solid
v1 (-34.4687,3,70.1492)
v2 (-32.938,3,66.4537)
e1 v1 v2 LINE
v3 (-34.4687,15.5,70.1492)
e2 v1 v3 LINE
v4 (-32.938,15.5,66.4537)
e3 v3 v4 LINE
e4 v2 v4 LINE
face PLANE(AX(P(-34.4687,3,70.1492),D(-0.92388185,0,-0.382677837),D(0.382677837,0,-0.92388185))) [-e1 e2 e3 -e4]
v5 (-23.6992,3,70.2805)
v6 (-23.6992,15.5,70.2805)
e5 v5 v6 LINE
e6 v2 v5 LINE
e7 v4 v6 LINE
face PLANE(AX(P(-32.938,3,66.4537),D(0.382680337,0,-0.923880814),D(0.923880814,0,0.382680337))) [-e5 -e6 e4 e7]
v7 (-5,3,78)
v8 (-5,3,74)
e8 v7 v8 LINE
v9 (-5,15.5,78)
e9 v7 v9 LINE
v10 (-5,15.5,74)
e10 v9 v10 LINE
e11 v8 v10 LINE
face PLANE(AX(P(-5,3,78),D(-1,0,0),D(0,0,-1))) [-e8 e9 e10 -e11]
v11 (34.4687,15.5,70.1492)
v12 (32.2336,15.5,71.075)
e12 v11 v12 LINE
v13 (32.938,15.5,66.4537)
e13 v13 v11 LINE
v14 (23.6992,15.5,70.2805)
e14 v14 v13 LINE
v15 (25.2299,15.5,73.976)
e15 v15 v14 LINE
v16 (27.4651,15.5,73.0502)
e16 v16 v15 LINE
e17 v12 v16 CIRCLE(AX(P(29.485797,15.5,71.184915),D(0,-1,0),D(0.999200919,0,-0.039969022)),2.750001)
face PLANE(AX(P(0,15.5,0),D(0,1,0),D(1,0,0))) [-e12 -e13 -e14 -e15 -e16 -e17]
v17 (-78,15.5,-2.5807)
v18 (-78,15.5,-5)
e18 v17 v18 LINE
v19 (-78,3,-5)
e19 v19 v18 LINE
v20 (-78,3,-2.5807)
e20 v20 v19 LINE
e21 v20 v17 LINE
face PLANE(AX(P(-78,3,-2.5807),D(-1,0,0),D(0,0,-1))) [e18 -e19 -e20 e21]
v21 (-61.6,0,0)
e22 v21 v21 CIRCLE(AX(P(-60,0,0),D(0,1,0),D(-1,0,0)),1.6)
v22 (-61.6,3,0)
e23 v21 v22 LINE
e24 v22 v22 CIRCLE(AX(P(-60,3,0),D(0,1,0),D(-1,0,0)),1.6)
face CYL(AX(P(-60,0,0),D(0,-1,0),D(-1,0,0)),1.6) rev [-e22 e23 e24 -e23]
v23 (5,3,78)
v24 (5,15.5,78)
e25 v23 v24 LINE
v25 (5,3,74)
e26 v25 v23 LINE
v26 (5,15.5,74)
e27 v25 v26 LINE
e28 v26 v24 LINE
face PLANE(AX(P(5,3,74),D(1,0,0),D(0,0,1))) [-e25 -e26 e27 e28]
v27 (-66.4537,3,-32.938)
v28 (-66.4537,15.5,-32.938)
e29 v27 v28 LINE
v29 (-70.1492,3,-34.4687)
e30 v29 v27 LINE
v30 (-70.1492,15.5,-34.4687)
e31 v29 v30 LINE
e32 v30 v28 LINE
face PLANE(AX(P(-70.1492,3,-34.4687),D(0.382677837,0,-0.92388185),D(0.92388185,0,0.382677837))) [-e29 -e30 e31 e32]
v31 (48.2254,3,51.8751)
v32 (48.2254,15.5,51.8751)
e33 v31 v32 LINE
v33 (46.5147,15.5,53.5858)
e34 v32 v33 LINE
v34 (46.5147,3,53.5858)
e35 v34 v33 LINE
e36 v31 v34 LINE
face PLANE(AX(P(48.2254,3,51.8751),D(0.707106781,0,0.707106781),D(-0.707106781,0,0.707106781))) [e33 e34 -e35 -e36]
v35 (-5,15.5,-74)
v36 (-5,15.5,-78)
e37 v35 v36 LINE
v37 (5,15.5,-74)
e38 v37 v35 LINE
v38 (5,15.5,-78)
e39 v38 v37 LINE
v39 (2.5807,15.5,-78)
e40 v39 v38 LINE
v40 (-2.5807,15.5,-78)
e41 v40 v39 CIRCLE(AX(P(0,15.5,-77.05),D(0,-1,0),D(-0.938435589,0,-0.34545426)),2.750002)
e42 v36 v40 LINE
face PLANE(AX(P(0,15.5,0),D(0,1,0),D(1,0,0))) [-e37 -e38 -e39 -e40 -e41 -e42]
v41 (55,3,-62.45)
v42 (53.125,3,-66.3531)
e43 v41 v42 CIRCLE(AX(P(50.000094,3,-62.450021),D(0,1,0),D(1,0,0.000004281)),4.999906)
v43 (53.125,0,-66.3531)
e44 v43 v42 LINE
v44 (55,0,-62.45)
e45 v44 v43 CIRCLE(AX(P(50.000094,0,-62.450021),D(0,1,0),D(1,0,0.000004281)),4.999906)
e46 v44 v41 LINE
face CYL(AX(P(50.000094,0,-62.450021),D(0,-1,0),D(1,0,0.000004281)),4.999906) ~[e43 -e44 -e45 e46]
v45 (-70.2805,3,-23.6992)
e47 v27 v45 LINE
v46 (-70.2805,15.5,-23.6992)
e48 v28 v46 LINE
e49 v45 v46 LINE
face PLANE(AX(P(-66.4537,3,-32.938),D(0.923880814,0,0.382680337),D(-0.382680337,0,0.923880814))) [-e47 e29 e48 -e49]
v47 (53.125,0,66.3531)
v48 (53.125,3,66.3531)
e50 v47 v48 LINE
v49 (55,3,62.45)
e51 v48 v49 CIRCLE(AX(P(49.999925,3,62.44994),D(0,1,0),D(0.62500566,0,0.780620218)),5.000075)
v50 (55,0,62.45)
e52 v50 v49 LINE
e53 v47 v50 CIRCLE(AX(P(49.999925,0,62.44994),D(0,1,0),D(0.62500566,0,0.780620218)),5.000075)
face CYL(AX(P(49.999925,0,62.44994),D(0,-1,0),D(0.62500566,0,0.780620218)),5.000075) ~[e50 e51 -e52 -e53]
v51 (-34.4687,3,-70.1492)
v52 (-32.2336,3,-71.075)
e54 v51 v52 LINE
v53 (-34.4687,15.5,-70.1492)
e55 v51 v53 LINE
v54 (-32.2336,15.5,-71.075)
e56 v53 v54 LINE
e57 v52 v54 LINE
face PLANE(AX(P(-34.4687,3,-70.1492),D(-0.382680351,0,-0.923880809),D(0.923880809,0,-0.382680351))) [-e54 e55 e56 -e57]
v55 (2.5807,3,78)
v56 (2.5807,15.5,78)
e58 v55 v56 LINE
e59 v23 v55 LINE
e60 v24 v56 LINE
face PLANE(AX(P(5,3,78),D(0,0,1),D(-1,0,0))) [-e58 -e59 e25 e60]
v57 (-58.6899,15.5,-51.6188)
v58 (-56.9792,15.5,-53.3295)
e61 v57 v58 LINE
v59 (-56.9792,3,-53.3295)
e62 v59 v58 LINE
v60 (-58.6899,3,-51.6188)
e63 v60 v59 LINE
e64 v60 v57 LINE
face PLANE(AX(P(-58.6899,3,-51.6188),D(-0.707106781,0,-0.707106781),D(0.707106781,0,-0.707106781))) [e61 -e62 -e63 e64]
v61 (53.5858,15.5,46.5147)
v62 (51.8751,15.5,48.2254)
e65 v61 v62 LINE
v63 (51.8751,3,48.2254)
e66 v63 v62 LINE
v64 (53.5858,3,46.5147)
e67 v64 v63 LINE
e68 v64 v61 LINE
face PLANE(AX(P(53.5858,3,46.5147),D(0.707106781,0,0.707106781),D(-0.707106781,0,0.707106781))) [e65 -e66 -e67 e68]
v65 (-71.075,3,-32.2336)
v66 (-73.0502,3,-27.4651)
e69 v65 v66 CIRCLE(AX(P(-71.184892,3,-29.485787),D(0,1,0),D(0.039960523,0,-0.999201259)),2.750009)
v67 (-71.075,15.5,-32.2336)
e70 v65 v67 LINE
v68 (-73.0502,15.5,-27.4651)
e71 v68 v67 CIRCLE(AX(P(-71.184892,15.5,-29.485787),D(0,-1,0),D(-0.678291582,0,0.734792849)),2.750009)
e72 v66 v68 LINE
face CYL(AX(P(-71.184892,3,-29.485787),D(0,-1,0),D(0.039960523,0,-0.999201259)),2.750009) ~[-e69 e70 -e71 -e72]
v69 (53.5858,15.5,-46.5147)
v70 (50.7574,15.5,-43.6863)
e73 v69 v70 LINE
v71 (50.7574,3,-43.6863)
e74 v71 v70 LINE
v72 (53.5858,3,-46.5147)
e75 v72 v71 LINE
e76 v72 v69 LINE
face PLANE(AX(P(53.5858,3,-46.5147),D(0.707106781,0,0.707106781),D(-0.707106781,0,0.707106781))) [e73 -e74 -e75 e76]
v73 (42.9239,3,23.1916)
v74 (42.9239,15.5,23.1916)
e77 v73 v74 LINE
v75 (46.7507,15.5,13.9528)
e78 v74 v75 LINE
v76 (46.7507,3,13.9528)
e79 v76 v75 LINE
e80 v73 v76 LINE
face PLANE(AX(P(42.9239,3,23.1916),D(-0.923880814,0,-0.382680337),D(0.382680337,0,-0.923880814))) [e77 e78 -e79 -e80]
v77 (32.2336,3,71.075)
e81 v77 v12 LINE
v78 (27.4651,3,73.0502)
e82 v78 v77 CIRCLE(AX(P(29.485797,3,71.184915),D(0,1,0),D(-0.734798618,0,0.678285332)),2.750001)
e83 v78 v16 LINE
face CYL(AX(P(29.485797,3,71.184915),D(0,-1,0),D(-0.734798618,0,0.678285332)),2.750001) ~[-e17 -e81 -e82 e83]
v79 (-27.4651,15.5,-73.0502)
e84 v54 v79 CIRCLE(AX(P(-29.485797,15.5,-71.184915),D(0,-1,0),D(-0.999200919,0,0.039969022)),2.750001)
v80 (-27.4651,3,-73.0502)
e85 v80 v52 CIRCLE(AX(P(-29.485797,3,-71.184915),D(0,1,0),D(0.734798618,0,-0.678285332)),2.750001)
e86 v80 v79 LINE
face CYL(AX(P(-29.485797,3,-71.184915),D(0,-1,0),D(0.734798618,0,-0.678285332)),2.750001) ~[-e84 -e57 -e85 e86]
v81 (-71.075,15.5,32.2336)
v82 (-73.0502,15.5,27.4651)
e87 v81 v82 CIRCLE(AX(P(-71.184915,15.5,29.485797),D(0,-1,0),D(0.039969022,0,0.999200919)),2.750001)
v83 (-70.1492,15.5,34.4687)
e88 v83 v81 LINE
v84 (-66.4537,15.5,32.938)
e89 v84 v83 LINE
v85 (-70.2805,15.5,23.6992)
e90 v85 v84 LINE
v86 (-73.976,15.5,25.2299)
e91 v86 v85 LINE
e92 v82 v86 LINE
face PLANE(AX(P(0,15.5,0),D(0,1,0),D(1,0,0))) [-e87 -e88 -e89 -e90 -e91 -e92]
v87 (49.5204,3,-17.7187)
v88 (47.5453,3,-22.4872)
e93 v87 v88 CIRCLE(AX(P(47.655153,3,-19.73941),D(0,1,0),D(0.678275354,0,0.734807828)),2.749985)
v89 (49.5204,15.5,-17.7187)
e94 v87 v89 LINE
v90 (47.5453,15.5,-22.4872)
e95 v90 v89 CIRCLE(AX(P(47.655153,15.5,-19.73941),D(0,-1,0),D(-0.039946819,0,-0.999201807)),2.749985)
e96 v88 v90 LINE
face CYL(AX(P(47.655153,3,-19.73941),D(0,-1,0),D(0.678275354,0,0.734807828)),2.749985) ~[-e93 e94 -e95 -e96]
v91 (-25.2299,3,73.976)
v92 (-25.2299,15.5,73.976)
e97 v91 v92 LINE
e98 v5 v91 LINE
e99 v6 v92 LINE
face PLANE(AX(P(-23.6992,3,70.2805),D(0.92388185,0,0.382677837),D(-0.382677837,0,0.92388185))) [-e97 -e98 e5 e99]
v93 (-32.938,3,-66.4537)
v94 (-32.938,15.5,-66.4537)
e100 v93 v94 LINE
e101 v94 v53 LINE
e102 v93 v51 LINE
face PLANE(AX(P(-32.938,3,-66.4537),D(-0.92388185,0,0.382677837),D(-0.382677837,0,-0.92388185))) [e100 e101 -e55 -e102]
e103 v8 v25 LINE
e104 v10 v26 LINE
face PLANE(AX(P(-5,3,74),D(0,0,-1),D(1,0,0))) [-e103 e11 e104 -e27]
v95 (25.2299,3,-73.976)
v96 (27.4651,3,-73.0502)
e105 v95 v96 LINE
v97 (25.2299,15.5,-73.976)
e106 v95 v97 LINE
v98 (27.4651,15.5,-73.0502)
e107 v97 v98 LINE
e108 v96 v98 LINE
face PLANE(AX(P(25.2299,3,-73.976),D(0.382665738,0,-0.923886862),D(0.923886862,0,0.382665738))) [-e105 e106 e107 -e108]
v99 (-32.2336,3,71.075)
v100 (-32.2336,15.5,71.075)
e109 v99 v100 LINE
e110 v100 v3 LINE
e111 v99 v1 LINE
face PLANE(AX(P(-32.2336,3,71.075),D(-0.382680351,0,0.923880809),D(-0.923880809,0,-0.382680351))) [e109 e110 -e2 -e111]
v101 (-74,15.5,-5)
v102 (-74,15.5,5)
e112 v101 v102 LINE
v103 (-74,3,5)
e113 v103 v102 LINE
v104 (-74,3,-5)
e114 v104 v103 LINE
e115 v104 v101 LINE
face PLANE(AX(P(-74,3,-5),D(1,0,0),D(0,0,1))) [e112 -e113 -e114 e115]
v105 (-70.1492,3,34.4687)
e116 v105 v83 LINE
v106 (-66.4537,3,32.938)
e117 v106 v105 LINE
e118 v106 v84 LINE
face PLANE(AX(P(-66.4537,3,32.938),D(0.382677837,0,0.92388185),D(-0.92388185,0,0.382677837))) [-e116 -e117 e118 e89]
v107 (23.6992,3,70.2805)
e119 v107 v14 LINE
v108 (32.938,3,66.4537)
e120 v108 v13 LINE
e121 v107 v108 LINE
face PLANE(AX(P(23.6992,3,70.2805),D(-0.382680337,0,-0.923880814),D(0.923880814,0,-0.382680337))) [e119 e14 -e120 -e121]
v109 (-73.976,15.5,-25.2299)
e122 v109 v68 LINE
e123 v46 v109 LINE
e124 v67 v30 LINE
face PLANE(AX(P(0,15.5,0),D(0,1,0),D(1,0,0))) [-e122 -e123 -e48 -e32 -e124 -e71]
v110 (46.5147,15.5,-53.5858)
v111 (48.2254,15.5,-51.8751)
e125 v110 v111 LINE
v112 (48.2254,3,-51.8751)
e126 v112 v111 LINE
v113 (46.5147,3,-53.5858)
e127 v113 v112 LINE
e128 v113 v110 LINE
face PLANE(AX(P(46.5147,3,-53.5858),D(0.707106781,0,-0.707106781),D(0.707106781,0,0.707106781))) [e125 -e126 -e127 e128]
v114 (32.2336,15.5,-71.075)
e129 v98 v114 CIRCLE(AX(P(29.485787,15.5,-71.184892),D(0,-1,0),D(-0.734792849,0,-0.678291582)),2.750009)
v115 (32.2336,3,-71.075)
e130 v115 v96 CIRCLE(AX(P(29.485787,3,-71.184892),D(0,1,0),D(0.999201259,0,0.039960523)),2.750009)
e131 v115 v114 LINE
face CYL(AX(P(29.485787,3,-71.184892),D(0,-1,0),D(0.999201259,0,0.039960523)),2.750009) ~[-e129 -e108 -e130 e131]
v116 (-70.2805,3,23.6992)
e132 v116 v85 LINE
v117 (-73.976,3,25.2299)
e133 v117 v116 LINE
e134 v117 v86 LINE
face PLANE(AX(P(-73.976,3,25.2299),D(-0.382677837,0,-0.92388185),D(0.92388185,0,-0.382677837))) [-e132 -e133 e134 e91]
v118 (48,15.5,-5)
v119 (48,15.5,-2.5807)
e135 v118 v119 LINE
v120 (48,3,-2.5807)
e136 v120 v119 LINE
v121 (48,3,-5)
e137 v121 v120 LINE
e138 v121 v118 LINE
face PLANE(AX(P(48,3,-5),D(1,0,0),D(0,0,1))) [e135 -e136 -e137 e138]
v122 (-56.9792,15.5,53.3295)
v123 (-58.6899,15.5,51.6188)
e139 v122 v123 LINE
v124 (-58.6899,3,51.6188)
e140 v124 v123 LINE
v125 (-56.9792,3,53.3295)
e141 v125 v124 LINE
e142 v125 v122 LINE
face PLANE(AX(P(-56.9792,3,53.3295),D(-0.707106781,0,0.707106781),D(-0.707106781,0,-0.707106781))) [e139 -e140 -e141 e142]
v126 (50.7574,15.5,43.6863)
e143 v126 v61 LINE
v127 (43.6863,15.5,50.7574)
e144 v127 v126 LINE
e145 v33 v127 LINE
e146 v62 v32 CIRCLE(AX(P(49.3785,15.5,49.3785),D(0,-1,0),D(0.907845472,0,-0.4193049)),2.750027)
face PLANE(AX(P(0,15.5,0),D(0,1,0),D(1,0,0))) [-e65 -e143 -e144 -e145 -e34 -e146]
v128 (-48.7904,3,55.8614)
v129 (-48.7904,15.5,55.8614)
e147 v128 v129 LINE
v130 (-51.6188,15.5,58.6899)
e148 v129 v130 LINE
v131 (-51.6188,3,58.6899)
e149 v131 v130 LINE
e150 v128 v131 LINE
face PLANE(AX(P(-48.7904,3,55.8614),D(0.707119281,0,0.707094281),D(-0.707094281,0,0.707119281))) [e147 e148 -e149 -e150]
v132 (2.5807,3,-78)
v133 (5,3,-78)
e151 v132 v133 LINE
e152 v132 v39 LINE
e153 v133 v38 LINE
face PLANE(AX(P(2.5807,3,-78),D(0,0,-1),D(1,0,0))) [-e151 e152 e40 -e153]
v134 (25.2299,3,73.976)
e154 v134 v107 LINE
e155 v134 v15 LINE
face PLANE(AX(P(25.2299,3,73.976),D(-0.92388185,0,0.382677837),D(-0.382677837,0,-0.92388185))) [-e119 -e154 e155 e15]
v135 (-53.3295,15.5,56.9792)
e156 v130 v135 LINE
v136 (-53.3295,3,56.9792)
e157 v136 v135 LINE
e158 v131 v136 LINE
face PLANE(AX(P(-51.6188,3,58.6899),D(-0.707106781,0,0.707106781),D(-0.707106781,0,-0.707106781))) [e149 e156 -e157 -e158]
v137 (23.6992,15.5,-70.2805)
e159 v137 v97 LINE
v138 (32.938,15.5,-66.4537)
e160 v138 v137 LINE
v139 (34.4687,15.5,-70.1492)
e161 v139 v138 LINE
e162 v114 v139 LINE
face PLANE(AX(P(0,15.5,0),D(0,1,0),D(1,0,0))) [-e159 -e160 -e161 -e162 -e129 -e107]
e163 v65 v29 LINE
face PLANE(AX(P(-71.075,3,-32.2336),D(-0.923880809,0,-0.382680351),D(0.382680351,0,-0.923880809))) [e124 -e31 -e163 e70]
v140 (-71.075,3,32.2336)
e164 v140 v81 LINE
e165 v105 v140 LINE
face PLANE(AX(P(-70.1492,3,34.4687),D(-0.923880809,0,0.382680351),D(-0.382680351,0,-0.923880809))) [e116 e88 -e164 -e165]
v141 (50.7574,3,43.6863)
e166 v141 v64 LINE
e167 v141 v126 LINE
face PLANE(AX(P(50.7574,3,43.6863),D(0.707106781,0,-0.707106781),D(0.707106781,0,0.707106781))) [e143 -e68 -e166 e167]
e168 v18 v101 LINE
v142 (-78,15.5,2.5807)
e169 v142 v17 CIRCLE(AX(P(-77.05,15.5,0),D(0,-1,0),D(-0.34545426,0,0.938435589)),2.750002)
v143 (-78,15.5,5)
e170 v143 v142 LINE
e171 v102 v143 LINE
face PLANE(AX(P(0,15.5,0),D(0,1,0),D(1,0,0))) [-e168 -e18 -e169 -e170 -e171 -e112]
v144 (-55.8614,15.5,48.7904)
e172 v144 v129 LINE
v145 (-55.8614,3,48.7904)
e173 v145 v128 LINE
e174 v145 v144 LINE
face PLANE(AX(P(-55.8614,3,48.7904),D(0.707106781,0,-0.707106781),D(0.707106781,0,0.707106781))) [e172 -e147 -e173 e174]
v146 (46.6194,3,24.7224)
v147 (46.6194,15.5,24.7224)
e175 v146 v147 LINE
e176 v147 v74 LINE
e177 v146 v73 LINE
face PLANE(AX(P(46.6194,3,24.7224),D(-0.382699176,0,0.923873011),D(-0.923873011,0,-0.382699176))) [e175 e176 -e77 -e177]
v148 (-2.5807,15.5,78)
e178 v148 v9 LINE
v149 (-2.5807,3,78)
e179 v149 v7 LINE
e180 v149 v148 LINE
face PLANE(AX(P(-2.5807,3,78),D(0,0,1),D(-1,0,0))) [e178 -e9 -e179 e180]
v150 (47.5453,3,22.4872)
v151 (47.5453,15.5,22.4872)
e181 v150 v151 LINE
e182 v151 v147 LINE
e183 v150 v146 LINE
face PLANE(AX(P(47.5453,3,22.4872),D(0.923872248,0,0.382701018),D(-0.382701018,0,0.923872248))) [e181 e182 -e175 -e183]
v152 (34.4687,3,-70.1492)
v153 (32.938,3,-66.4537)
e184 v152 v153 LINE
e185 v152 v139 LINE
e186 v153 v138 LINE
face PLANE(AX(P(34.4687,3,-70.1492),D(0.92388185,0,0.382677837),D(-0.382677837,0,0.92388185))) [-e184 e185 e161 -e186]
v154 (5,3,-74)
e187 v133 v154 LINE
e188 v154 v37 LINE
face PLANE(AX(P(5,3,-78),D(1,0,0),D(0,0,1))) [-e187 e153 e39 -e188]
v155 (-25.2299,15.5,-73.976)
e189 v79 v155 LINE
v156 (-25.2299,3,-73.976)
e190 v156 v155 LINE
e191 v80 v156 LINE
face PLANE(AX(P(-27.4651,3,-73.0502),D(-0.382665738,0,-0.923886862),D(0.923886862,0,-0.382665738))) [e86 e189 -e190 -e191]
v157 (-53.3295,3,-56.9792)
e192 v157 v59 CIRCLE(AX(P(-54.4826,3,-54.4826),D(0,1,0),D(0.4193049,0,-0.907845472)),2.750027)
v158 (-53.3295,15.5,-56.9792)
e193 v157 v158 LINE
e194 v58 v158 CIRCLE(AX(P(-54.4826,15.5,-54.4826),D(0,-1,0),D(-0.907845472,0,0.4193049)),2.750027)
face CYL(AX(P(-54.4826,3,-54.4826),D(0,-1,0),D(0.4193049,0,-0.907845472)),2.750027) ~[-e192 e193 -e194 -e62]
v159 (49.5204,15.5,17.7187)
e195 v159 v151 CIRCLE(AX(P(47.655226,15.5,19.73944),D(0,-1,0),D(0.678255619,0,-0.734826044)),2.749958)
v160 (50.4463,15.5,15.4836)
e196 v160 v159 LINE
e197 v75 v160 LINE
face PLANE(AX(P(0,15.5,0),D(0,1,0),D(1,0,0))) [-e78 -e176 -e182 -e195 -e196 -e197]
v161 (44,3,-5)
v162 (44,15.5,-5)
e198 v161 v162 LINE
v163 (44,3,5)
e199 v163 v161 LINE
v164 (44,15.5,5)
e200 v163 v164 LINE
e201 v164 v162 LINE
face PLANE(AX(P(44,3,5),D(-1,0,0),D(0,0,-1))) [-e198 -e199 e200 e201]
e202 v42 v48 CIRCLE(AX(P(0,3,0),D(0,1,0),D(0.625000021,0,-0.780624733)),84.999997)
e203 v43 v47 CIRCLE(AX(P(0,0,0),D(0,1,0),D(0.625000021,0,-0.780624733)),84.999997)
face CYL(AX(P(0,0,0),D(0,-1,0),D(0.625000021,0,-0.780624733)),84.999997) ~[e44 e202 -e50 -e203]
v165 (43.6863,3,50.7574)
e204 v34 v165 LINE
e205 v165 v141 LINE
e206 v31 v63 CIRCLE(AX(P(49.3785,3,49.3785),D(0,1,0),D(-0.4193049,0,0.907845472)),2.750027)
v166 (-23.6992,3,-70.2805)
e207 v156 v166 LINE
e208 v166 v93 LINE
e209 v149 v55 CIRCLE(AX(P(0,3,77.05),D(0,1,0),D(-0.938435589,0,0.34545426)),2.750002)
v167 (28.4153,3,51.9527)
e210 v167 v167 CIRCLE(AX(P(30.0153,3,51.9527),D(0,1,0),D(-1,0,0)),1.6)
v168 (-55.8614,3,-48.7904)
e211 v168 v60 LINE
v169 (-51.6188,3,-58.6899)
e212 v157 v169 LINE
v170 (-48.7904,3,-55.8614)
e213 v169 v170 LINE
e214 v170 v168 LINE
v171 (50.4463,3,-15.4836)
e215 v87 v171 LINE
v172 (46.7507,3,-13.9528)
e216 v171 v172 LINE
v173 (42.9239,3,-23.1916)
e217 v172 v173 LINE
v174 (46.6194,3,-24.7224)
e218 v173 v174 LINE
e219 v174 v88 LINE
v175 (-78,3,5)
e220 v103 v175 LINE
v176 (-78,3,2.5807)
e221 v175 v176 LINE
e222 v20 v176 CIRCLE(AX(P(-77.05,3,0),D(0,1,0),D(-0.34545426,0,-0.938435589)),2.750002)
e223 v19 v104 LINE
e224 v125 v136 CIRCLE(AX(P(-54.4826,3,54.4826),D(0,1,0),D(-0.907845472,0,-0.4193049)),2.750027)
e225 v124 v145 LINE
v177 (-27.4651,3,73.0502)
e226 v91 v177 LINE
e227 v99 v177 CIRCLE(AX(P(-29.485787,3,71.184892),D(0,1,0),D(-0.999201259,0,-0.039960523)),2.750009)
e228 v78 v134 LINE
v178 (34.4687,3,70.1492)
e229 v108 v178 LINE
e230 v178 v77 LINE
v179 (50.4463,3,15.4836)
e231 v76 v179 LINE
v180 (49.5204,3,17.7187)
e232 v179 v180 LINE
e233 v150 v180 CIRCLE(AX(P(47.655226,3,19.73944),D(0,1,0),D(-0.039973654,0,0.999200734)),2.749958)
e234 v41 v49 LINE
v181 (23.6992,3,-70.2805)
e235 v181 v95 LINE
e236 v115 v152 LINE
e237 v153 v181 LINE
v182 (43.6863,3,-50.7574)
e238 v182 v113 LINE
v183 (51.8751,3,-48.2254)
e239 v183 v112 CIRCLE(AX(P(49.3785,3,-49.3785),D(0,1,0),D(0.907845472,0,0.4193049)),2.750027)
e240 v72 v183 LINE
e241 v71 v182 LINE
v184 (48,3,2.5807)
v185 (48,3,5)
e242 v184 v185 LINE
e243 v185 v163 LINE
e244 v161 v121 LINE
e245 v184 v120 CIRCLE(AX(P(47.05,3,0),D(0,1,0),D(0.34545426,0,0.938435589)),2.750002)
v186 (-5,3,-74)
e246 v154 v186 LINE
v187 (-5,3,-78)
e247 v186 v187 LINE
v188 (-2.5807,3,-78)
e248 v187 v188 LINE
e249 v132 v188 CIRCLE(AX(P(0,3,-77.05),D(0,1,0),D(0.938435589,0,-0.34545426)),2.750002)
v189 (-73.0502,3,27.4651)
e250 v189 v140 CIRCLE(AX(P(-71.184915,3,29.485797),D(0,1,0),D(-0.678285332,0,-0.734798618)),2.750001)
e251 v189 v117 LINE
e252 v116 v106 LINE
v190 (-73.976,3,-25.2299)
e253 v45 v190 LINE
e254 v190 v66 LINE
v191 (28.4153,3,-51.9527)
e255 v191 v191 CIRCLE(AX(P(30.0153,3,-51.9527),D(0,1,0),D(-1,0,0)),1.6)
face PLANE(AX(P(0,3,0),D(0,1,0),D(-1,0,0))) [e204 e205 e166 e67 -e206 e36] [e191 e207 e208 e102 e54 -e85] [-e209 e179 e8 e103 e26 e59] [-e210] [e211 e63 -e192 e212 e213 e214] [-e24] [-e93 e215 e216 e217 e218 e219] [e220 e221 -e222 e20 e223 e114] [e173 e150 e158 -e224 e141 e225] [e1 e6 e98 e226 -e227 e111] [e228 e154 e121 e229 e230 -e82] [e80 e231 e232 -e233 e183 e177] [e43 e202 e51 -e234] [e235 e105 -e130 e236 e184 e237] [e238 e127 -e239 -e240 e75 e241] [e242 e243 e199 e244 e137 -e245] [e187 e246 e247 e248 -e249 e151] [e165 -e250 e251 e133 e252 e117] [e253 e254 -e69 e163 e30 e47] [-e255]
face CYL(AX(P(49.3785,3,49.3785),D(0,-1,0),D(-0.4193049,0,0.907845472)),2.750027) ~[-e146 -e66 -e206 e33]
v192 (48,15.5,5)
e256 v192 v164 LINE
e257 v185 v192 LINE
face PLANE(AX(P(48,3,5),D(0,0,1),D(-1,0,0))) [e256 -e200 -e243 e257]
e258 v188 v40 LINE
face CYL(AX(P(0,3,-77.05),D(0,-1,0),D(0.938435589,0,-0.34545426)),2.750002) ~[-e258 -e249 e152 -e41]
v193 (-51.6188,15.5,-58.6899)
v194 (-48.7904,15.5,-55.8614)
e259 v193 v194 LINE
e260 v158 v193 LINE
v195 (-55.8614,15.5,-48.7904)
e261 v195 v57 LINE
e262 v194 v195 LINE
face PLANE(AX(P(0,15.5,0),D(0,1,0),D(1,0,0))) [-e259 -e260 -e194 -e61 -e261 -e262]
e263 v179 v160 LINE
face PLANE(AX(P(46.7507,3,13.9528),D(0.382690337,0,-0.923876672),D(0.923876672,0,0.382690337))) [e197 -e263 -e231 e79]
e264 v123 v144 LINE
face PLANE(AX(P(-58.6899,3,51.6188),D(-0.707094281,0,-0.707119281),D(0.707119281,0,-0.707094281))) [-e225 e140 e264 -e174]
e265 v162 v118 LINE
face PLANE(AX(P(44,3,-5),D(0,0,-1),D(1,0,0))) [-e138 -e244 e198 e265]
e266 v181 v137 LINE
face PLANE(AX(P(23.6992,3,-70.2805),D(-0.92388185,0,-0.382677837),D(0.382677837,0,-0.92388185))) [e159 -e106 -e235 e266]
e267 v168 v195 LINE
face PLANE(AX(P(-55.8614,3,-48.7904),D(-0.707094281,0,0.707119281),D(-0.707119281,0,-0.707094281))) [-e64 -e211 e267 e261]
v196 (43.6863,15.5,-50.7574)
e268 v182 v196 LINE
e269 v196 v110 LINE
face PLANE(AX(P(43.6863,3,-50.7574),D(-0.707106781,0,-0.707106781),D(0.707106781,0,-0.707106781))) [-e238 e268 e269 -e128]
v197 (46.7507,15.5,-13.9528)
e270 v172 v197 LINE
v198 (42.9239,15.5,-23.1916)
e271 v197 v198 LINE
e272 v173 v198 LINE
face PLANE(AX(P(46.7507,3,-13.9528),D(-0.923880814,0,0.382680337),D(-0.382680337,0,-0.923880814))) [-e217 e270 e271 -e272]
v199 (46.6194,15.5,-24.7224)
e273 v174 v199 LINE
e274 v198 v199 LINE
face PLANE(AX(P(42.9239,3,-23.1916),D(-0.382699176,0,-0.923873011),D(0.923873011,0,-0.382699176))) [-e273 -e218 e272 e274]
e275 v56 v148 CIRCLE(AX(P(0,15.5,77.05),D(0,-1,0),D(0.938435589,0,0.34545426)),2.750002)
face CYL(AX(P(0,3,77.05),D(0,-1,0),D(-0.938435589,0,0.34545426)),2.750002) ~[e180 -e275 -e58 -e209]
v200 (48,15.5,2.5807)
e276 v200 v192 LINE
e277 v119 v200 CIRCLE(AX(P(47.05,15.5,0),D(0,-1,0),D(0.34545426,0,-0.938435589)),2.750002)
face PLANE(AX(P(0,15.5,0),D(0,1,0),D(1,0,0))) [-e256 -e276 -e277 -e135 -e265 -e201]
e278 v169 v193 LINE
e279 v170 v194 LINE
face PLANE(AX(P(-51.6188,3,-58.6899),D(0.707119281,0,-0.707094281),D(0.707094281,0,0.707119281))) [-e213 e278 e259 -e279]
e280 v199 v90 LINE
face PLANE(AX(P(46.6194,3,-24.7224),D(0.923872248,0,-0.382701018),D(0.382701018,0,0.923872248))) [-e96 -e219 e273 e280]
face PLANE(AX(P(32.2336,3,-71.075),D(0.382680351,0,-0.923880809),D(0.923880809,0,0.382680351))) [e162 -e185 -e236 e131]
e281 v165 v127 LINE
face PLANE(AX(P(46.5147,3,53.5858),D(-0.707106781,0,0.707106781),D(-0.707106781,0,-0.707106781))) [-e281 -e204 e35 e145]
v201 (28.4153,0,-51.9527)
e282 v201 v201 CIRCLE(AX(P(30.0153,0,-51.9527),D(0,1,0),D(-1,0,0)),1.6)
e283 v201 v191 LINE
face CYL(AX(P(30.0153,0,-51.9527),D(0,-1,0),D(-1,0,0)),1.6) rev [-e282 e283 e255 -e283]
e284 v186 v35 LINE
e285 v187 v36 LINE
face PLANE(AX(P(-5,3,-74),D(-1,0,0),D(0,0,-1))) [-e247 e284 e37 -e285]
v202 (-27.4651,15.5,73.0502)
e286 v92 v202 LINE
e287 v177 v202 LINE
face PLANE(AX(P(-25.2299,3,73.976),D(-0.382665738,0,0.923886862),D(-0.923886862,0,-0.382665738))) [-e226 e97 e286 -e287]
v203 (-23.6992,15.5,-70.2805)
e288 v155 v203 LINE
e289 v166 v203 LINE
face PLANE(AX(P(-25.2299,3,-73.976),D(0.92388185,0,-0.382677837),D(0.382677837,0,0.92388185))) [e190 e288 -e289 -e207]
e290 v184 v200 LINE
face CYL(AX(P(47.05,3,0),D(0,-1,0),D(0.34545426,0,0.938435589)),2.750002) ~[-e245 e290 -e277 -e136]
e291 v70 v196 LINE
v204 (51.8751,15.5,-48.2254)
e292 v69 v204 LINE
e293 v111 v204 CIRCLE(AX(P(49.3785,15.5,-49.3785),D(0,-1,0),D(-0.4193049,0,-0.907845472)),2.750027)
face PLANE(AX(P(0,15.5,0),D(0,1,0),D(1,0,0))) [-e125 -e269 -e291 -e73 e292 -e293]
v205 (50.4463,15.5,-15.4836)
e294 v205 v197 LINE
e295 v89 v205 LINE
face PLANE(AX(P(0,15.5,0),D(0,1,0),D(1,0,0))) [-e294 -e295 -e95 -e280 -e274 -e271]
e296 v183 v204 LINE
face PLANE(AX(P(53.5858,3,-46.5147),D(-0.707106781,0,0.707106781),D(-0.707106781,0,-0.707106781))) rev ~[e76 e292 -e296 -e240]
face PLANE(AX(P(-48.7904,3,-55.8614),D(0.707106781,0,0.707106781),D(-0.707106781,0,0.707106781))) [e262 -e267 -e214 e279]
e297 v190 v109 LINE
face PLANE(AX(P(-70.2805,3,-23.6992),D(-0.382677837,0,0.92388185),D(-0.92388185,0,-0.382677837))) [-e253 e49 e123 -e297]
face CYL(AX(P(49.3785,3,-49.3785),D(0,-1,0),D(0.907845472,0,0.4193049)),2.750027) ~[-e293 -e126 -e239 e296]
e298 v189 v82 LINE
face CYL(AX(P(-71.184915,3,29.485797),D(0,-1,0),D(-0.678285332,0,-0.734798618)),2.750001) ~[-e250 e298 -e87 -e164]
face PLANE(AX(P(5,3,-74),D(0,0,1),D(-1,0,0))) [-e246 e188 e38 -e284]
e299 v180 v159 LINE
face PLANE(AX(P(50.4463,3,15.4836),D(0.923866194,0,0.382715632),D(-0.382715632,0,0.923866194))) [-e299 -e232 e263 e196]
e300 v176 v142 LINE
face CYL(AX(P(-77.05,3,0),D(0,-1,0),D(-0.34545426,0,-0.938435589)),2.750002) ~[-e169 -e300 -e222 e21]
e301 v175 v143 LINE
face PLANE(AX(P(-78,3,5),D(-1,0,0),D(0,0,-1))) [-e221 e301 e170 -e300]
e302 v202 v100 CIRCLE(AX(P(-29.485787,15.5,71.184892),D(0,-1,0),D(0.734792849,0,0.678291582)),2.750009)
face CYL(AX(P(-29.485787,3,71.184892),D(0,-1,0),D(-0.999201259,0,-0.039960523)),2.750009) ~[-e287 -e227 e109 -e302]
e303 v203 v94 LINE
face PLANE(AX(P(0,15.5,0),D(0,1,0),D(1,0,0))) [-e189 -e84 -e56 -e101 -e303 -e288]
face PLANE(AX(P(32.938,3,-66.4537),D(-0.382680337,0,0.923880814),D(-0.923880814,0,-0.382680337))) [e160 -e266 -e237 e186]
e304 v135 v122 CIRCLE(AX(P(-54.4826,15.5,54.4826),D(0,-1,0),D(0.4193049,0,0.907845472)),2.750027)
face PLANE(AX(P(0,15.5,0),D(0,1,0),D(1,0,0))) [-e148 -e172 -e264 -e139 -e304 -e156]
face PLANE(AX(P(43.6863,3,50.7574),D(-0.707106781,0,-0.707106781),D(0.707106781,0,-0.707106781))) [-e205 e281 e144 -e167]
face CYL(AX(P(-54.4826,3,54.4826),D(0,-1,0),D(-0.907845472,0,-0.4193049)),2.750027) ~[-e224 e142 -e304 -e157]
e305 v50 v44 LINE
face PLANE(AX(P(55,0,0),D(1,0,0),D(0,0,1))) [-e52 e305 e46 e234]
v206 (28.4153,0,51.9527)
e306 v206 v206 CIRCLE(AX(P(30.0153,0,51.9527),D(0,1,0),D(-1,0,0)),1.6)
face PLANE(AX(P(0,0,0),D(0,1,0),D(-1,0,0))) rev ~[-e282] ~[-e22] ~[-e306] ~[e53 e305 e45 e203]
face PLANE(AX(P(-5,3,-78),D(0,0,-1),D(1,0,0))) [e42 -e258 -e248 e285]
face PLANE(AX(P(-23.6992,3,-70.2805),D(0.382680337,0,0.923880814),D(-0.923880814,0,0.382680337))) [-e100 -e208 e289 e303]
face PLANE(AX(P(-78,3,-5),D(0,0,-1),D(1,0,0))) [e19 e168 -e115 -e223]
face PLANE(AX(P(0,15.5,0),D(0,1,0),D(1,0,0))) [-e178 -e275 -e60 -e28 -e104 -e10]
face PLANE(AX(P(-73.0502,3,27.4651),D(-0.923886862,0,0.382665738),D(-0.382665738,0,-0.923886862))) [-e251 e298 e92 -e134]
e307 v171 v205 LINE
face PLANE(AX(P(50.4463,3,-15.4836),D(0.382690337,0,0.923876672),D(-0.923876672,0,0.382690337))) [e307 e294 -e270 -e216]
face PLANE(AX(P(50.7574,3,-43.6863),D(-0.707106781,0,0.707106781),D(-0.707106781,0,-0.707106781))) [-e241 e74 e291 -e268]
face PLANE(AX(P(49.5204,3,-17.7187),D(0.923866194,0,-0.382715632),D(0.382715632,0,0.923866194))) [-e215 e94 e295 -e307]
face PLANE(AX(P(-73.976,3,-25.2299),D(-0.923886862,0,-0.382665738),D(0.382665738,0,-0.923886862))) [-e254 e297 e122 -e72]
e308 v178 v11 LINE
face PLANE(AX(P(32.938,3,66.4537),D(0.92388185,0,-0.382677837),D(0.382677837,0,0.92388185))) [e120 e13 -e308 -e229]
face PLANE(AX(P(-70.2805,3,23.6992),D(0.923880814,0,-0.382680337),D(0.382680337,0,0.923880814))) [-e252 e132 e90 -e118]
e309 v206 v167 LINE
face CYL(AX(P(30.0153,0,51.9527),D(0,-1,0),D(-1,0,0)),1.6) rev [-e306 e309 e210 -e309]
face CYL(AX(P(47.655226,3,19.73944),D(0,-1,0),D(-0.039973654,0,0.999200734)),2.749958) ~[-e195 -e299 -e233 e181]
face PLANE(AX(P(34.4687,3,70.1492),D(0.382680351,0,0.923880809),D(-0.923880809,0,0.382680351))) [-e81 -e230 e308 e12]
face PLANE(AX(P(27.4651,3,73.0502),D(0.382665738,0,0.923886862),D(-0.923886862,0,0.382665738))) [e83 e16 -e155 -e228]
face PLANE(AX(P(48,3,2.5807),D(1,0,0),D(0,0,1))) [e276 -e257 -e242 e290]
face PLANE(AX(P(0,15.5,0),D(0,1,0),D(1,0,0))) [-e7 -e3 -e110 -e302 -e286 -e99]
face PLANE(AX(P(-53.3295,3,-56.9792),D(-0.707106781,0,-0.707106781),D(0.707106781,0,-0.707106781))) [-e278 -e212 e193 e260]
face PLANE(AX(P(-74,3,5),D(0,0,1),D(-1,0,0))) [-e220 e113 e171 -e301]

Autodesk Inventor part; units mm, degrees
ref_plane "YZ Plane" through (0, 0, 0) normal (1, 0, 0) x (0, 1, 0)
ref_plane "XZ Plane" through (0, 0, 0) normal (0, 1, 0) x (-1, 0, 0)
ref_plane "XY Plane" through (0, 0, 0) normal (0, 0, 1) x (1, 0, 0)
sketch "Sketch4" plane through (0, 0, 0) normal (0, 1, 0) x (-1, 0, 0)
  line L0 (-55, 0) -> (-55, 62.45)
  line L1 (-55, 0) -> (-55, -62.45)
  arc A0 (-53.125, -66.3531) -> (-53.125, 66.3531) centre (0, 0) ccw
  arc A1 (-53.125, 66.3531) -> (-55, 62.45) centre (-50, 62.45) ccw
  arc A2 (-55, -62.45) -> (-53.125, -66.3531) centre (-50, -62.45) ccw
  circle A3 centre (-30.0153, 51.9527) radius 1.6
  circle A4 centre (60, 0) radius 1.6
  circle A5 centre (-30.0153, -51.9527) radius 1.6
  point P0 (-55, -64.8074)
  dimension "d56" = 3.2
  dimension "d57" = 3.2
  dimension "d58" = 3.2
extrude "Extrusion2" add sketch "Sketch4" along normal blind 3
sketch "Sketch5" plane through (0, 3, 0) normal (0, 1, 0) x (1, 0, 0)
  line L0 (-78, 5) -> (-74, 5)
  line L1 (-74, 5) -> (-74, -5)
  line L2 (-74, -5) -> (-78, -5)
  arc A0 (-78, 2.5807) -> (-78, -2.5807) centre (-77.05, 0) ccw
  line L3 (-78, -5) -> (-78, -2.5807)
  line L4 (-78, 2.5807) -> (-78, 5)
  line L5 (-77.05, 0) -> (-85, 0)
  line L6 (-73.976, -25.2299) -> (-70.2805, -23.6992)
  line L7 (-70.2805, -23.6992) -> (-66.4537, -32.938)
  line L8 (-73.0502, -27.4651) -> (-73.976, -25.2299)
  line L9 (-66.4537, -32.938) -> (-70.1492, -34.4687)
  arc A1 (-73.0502, -27.4651) -> (-71.075, -32.2336) centre (-71.1849, -29.4858) ccw
  line L10 (-71.1849, -29.4858) -> (-78.5298, -32.5281)
  line L11 (-70.1492, -34.4687) -> (-71.075, -32.2336)
  line L12 (-58.6899, -51.6188) -> (-55.8614, -48.7904)
  line L13 (-55.8614, -48.7904) -> (-48.7904, -55.8614)
  line L14 (-56.9792, -53.3295) -> (-58.6899, -51.6188)
  line L15 (-48.7904, -55.8614) -> (-51.6188, -58.6899)
  arc A2 (-56.9792, -53.3295) -> (-53.3295, -56.9792) centre (-54.4826, -54.4826) ccw
  line L16 (-54.4826, -54.4826) -> (-60.1041, -60.1041)
  line L17 (-51.6188, -58.6899) -> (-53.3295, -56.9792)
  line L18 (-34.4687, -70.1492) -> (-32.938, -66.4537)
  line L19 (-32.938, -66.4537) -> (-23.6992, -70.2805)
  line L20 (-32.2336, -71.075) -> (-34.4687, -70.1492)
  line L21 (-23.6992, -70.2805) -> (-25.2299, -73.976)
  arc A3 (-32.2336, -71.075) -> (-27.4651, -73.0502) centre (-29.4858, -71.1849) ccw
  line L22 (-29.4858, -71.1849) -> (-32.5281, -78.5298)
  line L23 (-25.2299, -73.976) -> (-27.4651, -73.0502)
  line L24 (-5, -78) -> (-5, -74)
  line L25 (-5, -74) -> (5, -74)
  line L26 (-2.5807, -78) -> (-5, -78)
  line L27 (5, -74) -> (5, -78)
  arc A4 (-2.5807, -78) -> (2.5807, -78) centre (0, -77.05) ccw
  line L28 (0, -77.05) -> (0, -85)
  line L29 (5, -78) -> (2.5807, -78)
  line L30 (25.2299, -73.976) -> (23.6992, -70.2805)
  line L31 (23.6992, -70.2805) -> (32.938, -66.4537)
  line L32 (27.4651, -73.0502) -> (25.2299, -73.976)
  line L33 (32.938, -66.4537) -> (34.4687, -70.1492)
  arc A5 (27.4651, -73.0502) -> (32.2336, -71.075) centre (29.4858, -71.1849) ccw
  line L34 (29.4858, -71.1849) -> (32.5281, -78.5298)
  line L35 (34.4687, -70.1492) -> (32.2336, -71.075)
  line L36 (46.5147, -53.5858) -> (43.6863, -50.7574)
  line L37 (43.6863, -50.7574) -> (50.7574, -43.6863)
  line L38 (48.2254, -51.8751) -> (46.5147, -53.5858)
  line L39 (50.7574, -43.6863) -> (53.5858, -46.5147)
  arc A6 (48.2254, -51.8751) -> (51.8751, -48.2254) centre (49.3785, -49.3785) ccw
  line L40 (49.3785, -49.3785) -> (55, -55)
  line L41 (53.5858, -46.5147) -> (51.8751, -48.2254)
  line L42 (46.6194, -24.7224) -> (42.9239, -23.1916)
  line L43 (42.9239, -23.1916) -> (46.7507, -13.9528)
  line L44 (47.5453, -22.4872) -> (46.6194, -24.7224)
  line L45 (46.7507, -13.9528) -> (50.4463, -15.4836)
  arc A7 (47.5453, -22.4872) -> (49.5204, -17.7187) centre (47.6552, -19.7394) ccw
  line L46 (47.6552, -19.7394) -> (55, -22.7817)
  line L47 (50.4463, -15.4836) -> (49.5204, -17.7187)
  line L48 (48, -5) -> (44, -5)
  line L49 (44, -5) -> (44, 5)
  line L50 (48, -2.5807) -> (48, -5)
  line L51 (44, 5) -> (48, 5)
  arc A8 (48, -2.5807) -> (48, 2.5807) centre (47.05, 0) ccw
  line L52 (47.05, 0) -> (55, 0)
  line L53 (48, 5) -> (48, 2.5807)
  line L54 (50.4463, 15.4836) -> (46.7507, 13.9528)
  line L55 (46.7507, 13.9528) -> (42.9239, 23.1916)
  line L56 (49.5204, 17.7187) -> (50.4463, 15.4836)
  line L57 (42.9239, 23.1916) -> (46.6194, 24.7224)
  arc A9 (49.5204, 17.7187) -> (47.5453, 22.4872) centre (47.6552, 19.7394) ccw
  line L58 (47.6552, 19.7394) -> (55, 22.7817)
  line L59 (46.6194, 24.7224) -> (47.5453, 22.4872)
  line L60 (53.5858, 46.5147) -> (50.7574, 43.6863)
  line L61 (50.7574, 43.6863) -> (43.6863, 50.7574)
  line L62 (43.6863, 50.7574) -> (46.5147, 53.5858)
  arc A10 (51.8751, 48.2254) -> (48.2254, 51.8751) centre (49.3785, 49.3785) ccw
  line L63 (49.3785, 49.3785) -> (55, 55)
  line L64 (46.5147, 53.5858) -> (48.2254, 51.8751)
  line L65 (34.4687, 70.1492) -> (32.938, 66.4537)
  line L66 (32.938, 66.4537) -> (23.6992, 70.2805)
  line L67 (32.2336, 71.075) -> (34.4687, 70.1492)
  line L68 (23.6992, 70.2805) -> (25.2299, 73.976)
  arc A11 (32.2336, 71.075) -> (27.4651, 73.0502) centre (29.4858, 71.1849) ccw
  line L69 (29.4858, 71.1849) -> (32.5281, 78.5298)
  line L70 (25.2299, 73.976) -> (27.4651, 73.0502)
  line L71 (5, 78) -> (5, 74)
  line L72 (5, 74) -> (-5, 74)
  line L73 (2.5807, 78) -> (5, 78)
  line L74 (-5, 74) -> (-5, 78)
  arc A12 (2.5807, 78) -> (-2.5807, 78) centre (0, 77.05) ccw
  line L75 (0, 77.05) -> (0, 85)
  line L76 (-5, 78) -> (-2.5807, 78)
  line L77 (-25.2299, 73.976) -> (-23.6992, 70.2805)
  line L78 (-23.6992, 70.2805) -> (-32.938, 66.4537)
  line L79 (-27.4651, 73.0502) -> (-25.2299, 73.976)
  line L80 (-32.938, 66.4537) -> (-34.4687, 70.1492)
  arc A13 (-27.4651, 73.0502) -> (-32.2336, 71.075) centre (-29.4858, 71.1849) ccw
  line L81 (-29.4858, 71.1849) -> (-32.5281, 78.5298)
  line L82 (-34.4687, 70.1492) -> (-32.2336, 71.075)
  line L83 (-51.6188, 58.6899) -> (-48.7904, 55.8614)
  line L84 (-48.7904, 55.8614) -> (-55.8614, 48.7904)
  line L85 (-53.3295, 56.9792) -> (-51.6188, 58.6899)
  line L86 (-55.8614, 48.7904) -> (-58.6899, 51.6188)
  arc A14 (-53.3295, 56.9792) -> (-56.9792, 53.3295) centre (-54.4826, 54.4826) ccw
  line L87 (-54.4826, 54.4826) -> (-60.1041, 60.1041)
  line L88 (-58.6899, 51.6188) -> (-56.9792, 53.3295)
  line L89 (-70.1492, 34.4687) -> (-66.4537, 32.938)
  line L90 (-66.4537, 32.938) -> (-70.2805, 23.6992)
  line L91 (-71.075, 32.2336) -> (-70.1492, 34.4687)
  line L92 (-70.2805, 23.6992) -> (-73.976, 25.2299)
  arc A15 (-71.075, 32.2336) -> (-73.0502, 27.4651) centre (-71.1849, 29.4858) ccw
  line L93 (-71.1849, 29.4858) -> (-78.5298, 32.5281)
  line L94 (-73.976, 25.2299) -> (-73.0502, 27.4651)
  line L95 (55, -55) -> (49.8959, -49.8959)
  line L96 (55, 55) -> (49.8959, 49.8959)
  line L97 (53.5858, 46.5147) -> (51.8751, 48.2254)
  point P0 (0, 0)
  dimension "d52" = 4
  dimension "d53" = 10
extrude "Extrusion3" add sketch "Sketch5" along normal blind 12.5
properties part number "PCB"
